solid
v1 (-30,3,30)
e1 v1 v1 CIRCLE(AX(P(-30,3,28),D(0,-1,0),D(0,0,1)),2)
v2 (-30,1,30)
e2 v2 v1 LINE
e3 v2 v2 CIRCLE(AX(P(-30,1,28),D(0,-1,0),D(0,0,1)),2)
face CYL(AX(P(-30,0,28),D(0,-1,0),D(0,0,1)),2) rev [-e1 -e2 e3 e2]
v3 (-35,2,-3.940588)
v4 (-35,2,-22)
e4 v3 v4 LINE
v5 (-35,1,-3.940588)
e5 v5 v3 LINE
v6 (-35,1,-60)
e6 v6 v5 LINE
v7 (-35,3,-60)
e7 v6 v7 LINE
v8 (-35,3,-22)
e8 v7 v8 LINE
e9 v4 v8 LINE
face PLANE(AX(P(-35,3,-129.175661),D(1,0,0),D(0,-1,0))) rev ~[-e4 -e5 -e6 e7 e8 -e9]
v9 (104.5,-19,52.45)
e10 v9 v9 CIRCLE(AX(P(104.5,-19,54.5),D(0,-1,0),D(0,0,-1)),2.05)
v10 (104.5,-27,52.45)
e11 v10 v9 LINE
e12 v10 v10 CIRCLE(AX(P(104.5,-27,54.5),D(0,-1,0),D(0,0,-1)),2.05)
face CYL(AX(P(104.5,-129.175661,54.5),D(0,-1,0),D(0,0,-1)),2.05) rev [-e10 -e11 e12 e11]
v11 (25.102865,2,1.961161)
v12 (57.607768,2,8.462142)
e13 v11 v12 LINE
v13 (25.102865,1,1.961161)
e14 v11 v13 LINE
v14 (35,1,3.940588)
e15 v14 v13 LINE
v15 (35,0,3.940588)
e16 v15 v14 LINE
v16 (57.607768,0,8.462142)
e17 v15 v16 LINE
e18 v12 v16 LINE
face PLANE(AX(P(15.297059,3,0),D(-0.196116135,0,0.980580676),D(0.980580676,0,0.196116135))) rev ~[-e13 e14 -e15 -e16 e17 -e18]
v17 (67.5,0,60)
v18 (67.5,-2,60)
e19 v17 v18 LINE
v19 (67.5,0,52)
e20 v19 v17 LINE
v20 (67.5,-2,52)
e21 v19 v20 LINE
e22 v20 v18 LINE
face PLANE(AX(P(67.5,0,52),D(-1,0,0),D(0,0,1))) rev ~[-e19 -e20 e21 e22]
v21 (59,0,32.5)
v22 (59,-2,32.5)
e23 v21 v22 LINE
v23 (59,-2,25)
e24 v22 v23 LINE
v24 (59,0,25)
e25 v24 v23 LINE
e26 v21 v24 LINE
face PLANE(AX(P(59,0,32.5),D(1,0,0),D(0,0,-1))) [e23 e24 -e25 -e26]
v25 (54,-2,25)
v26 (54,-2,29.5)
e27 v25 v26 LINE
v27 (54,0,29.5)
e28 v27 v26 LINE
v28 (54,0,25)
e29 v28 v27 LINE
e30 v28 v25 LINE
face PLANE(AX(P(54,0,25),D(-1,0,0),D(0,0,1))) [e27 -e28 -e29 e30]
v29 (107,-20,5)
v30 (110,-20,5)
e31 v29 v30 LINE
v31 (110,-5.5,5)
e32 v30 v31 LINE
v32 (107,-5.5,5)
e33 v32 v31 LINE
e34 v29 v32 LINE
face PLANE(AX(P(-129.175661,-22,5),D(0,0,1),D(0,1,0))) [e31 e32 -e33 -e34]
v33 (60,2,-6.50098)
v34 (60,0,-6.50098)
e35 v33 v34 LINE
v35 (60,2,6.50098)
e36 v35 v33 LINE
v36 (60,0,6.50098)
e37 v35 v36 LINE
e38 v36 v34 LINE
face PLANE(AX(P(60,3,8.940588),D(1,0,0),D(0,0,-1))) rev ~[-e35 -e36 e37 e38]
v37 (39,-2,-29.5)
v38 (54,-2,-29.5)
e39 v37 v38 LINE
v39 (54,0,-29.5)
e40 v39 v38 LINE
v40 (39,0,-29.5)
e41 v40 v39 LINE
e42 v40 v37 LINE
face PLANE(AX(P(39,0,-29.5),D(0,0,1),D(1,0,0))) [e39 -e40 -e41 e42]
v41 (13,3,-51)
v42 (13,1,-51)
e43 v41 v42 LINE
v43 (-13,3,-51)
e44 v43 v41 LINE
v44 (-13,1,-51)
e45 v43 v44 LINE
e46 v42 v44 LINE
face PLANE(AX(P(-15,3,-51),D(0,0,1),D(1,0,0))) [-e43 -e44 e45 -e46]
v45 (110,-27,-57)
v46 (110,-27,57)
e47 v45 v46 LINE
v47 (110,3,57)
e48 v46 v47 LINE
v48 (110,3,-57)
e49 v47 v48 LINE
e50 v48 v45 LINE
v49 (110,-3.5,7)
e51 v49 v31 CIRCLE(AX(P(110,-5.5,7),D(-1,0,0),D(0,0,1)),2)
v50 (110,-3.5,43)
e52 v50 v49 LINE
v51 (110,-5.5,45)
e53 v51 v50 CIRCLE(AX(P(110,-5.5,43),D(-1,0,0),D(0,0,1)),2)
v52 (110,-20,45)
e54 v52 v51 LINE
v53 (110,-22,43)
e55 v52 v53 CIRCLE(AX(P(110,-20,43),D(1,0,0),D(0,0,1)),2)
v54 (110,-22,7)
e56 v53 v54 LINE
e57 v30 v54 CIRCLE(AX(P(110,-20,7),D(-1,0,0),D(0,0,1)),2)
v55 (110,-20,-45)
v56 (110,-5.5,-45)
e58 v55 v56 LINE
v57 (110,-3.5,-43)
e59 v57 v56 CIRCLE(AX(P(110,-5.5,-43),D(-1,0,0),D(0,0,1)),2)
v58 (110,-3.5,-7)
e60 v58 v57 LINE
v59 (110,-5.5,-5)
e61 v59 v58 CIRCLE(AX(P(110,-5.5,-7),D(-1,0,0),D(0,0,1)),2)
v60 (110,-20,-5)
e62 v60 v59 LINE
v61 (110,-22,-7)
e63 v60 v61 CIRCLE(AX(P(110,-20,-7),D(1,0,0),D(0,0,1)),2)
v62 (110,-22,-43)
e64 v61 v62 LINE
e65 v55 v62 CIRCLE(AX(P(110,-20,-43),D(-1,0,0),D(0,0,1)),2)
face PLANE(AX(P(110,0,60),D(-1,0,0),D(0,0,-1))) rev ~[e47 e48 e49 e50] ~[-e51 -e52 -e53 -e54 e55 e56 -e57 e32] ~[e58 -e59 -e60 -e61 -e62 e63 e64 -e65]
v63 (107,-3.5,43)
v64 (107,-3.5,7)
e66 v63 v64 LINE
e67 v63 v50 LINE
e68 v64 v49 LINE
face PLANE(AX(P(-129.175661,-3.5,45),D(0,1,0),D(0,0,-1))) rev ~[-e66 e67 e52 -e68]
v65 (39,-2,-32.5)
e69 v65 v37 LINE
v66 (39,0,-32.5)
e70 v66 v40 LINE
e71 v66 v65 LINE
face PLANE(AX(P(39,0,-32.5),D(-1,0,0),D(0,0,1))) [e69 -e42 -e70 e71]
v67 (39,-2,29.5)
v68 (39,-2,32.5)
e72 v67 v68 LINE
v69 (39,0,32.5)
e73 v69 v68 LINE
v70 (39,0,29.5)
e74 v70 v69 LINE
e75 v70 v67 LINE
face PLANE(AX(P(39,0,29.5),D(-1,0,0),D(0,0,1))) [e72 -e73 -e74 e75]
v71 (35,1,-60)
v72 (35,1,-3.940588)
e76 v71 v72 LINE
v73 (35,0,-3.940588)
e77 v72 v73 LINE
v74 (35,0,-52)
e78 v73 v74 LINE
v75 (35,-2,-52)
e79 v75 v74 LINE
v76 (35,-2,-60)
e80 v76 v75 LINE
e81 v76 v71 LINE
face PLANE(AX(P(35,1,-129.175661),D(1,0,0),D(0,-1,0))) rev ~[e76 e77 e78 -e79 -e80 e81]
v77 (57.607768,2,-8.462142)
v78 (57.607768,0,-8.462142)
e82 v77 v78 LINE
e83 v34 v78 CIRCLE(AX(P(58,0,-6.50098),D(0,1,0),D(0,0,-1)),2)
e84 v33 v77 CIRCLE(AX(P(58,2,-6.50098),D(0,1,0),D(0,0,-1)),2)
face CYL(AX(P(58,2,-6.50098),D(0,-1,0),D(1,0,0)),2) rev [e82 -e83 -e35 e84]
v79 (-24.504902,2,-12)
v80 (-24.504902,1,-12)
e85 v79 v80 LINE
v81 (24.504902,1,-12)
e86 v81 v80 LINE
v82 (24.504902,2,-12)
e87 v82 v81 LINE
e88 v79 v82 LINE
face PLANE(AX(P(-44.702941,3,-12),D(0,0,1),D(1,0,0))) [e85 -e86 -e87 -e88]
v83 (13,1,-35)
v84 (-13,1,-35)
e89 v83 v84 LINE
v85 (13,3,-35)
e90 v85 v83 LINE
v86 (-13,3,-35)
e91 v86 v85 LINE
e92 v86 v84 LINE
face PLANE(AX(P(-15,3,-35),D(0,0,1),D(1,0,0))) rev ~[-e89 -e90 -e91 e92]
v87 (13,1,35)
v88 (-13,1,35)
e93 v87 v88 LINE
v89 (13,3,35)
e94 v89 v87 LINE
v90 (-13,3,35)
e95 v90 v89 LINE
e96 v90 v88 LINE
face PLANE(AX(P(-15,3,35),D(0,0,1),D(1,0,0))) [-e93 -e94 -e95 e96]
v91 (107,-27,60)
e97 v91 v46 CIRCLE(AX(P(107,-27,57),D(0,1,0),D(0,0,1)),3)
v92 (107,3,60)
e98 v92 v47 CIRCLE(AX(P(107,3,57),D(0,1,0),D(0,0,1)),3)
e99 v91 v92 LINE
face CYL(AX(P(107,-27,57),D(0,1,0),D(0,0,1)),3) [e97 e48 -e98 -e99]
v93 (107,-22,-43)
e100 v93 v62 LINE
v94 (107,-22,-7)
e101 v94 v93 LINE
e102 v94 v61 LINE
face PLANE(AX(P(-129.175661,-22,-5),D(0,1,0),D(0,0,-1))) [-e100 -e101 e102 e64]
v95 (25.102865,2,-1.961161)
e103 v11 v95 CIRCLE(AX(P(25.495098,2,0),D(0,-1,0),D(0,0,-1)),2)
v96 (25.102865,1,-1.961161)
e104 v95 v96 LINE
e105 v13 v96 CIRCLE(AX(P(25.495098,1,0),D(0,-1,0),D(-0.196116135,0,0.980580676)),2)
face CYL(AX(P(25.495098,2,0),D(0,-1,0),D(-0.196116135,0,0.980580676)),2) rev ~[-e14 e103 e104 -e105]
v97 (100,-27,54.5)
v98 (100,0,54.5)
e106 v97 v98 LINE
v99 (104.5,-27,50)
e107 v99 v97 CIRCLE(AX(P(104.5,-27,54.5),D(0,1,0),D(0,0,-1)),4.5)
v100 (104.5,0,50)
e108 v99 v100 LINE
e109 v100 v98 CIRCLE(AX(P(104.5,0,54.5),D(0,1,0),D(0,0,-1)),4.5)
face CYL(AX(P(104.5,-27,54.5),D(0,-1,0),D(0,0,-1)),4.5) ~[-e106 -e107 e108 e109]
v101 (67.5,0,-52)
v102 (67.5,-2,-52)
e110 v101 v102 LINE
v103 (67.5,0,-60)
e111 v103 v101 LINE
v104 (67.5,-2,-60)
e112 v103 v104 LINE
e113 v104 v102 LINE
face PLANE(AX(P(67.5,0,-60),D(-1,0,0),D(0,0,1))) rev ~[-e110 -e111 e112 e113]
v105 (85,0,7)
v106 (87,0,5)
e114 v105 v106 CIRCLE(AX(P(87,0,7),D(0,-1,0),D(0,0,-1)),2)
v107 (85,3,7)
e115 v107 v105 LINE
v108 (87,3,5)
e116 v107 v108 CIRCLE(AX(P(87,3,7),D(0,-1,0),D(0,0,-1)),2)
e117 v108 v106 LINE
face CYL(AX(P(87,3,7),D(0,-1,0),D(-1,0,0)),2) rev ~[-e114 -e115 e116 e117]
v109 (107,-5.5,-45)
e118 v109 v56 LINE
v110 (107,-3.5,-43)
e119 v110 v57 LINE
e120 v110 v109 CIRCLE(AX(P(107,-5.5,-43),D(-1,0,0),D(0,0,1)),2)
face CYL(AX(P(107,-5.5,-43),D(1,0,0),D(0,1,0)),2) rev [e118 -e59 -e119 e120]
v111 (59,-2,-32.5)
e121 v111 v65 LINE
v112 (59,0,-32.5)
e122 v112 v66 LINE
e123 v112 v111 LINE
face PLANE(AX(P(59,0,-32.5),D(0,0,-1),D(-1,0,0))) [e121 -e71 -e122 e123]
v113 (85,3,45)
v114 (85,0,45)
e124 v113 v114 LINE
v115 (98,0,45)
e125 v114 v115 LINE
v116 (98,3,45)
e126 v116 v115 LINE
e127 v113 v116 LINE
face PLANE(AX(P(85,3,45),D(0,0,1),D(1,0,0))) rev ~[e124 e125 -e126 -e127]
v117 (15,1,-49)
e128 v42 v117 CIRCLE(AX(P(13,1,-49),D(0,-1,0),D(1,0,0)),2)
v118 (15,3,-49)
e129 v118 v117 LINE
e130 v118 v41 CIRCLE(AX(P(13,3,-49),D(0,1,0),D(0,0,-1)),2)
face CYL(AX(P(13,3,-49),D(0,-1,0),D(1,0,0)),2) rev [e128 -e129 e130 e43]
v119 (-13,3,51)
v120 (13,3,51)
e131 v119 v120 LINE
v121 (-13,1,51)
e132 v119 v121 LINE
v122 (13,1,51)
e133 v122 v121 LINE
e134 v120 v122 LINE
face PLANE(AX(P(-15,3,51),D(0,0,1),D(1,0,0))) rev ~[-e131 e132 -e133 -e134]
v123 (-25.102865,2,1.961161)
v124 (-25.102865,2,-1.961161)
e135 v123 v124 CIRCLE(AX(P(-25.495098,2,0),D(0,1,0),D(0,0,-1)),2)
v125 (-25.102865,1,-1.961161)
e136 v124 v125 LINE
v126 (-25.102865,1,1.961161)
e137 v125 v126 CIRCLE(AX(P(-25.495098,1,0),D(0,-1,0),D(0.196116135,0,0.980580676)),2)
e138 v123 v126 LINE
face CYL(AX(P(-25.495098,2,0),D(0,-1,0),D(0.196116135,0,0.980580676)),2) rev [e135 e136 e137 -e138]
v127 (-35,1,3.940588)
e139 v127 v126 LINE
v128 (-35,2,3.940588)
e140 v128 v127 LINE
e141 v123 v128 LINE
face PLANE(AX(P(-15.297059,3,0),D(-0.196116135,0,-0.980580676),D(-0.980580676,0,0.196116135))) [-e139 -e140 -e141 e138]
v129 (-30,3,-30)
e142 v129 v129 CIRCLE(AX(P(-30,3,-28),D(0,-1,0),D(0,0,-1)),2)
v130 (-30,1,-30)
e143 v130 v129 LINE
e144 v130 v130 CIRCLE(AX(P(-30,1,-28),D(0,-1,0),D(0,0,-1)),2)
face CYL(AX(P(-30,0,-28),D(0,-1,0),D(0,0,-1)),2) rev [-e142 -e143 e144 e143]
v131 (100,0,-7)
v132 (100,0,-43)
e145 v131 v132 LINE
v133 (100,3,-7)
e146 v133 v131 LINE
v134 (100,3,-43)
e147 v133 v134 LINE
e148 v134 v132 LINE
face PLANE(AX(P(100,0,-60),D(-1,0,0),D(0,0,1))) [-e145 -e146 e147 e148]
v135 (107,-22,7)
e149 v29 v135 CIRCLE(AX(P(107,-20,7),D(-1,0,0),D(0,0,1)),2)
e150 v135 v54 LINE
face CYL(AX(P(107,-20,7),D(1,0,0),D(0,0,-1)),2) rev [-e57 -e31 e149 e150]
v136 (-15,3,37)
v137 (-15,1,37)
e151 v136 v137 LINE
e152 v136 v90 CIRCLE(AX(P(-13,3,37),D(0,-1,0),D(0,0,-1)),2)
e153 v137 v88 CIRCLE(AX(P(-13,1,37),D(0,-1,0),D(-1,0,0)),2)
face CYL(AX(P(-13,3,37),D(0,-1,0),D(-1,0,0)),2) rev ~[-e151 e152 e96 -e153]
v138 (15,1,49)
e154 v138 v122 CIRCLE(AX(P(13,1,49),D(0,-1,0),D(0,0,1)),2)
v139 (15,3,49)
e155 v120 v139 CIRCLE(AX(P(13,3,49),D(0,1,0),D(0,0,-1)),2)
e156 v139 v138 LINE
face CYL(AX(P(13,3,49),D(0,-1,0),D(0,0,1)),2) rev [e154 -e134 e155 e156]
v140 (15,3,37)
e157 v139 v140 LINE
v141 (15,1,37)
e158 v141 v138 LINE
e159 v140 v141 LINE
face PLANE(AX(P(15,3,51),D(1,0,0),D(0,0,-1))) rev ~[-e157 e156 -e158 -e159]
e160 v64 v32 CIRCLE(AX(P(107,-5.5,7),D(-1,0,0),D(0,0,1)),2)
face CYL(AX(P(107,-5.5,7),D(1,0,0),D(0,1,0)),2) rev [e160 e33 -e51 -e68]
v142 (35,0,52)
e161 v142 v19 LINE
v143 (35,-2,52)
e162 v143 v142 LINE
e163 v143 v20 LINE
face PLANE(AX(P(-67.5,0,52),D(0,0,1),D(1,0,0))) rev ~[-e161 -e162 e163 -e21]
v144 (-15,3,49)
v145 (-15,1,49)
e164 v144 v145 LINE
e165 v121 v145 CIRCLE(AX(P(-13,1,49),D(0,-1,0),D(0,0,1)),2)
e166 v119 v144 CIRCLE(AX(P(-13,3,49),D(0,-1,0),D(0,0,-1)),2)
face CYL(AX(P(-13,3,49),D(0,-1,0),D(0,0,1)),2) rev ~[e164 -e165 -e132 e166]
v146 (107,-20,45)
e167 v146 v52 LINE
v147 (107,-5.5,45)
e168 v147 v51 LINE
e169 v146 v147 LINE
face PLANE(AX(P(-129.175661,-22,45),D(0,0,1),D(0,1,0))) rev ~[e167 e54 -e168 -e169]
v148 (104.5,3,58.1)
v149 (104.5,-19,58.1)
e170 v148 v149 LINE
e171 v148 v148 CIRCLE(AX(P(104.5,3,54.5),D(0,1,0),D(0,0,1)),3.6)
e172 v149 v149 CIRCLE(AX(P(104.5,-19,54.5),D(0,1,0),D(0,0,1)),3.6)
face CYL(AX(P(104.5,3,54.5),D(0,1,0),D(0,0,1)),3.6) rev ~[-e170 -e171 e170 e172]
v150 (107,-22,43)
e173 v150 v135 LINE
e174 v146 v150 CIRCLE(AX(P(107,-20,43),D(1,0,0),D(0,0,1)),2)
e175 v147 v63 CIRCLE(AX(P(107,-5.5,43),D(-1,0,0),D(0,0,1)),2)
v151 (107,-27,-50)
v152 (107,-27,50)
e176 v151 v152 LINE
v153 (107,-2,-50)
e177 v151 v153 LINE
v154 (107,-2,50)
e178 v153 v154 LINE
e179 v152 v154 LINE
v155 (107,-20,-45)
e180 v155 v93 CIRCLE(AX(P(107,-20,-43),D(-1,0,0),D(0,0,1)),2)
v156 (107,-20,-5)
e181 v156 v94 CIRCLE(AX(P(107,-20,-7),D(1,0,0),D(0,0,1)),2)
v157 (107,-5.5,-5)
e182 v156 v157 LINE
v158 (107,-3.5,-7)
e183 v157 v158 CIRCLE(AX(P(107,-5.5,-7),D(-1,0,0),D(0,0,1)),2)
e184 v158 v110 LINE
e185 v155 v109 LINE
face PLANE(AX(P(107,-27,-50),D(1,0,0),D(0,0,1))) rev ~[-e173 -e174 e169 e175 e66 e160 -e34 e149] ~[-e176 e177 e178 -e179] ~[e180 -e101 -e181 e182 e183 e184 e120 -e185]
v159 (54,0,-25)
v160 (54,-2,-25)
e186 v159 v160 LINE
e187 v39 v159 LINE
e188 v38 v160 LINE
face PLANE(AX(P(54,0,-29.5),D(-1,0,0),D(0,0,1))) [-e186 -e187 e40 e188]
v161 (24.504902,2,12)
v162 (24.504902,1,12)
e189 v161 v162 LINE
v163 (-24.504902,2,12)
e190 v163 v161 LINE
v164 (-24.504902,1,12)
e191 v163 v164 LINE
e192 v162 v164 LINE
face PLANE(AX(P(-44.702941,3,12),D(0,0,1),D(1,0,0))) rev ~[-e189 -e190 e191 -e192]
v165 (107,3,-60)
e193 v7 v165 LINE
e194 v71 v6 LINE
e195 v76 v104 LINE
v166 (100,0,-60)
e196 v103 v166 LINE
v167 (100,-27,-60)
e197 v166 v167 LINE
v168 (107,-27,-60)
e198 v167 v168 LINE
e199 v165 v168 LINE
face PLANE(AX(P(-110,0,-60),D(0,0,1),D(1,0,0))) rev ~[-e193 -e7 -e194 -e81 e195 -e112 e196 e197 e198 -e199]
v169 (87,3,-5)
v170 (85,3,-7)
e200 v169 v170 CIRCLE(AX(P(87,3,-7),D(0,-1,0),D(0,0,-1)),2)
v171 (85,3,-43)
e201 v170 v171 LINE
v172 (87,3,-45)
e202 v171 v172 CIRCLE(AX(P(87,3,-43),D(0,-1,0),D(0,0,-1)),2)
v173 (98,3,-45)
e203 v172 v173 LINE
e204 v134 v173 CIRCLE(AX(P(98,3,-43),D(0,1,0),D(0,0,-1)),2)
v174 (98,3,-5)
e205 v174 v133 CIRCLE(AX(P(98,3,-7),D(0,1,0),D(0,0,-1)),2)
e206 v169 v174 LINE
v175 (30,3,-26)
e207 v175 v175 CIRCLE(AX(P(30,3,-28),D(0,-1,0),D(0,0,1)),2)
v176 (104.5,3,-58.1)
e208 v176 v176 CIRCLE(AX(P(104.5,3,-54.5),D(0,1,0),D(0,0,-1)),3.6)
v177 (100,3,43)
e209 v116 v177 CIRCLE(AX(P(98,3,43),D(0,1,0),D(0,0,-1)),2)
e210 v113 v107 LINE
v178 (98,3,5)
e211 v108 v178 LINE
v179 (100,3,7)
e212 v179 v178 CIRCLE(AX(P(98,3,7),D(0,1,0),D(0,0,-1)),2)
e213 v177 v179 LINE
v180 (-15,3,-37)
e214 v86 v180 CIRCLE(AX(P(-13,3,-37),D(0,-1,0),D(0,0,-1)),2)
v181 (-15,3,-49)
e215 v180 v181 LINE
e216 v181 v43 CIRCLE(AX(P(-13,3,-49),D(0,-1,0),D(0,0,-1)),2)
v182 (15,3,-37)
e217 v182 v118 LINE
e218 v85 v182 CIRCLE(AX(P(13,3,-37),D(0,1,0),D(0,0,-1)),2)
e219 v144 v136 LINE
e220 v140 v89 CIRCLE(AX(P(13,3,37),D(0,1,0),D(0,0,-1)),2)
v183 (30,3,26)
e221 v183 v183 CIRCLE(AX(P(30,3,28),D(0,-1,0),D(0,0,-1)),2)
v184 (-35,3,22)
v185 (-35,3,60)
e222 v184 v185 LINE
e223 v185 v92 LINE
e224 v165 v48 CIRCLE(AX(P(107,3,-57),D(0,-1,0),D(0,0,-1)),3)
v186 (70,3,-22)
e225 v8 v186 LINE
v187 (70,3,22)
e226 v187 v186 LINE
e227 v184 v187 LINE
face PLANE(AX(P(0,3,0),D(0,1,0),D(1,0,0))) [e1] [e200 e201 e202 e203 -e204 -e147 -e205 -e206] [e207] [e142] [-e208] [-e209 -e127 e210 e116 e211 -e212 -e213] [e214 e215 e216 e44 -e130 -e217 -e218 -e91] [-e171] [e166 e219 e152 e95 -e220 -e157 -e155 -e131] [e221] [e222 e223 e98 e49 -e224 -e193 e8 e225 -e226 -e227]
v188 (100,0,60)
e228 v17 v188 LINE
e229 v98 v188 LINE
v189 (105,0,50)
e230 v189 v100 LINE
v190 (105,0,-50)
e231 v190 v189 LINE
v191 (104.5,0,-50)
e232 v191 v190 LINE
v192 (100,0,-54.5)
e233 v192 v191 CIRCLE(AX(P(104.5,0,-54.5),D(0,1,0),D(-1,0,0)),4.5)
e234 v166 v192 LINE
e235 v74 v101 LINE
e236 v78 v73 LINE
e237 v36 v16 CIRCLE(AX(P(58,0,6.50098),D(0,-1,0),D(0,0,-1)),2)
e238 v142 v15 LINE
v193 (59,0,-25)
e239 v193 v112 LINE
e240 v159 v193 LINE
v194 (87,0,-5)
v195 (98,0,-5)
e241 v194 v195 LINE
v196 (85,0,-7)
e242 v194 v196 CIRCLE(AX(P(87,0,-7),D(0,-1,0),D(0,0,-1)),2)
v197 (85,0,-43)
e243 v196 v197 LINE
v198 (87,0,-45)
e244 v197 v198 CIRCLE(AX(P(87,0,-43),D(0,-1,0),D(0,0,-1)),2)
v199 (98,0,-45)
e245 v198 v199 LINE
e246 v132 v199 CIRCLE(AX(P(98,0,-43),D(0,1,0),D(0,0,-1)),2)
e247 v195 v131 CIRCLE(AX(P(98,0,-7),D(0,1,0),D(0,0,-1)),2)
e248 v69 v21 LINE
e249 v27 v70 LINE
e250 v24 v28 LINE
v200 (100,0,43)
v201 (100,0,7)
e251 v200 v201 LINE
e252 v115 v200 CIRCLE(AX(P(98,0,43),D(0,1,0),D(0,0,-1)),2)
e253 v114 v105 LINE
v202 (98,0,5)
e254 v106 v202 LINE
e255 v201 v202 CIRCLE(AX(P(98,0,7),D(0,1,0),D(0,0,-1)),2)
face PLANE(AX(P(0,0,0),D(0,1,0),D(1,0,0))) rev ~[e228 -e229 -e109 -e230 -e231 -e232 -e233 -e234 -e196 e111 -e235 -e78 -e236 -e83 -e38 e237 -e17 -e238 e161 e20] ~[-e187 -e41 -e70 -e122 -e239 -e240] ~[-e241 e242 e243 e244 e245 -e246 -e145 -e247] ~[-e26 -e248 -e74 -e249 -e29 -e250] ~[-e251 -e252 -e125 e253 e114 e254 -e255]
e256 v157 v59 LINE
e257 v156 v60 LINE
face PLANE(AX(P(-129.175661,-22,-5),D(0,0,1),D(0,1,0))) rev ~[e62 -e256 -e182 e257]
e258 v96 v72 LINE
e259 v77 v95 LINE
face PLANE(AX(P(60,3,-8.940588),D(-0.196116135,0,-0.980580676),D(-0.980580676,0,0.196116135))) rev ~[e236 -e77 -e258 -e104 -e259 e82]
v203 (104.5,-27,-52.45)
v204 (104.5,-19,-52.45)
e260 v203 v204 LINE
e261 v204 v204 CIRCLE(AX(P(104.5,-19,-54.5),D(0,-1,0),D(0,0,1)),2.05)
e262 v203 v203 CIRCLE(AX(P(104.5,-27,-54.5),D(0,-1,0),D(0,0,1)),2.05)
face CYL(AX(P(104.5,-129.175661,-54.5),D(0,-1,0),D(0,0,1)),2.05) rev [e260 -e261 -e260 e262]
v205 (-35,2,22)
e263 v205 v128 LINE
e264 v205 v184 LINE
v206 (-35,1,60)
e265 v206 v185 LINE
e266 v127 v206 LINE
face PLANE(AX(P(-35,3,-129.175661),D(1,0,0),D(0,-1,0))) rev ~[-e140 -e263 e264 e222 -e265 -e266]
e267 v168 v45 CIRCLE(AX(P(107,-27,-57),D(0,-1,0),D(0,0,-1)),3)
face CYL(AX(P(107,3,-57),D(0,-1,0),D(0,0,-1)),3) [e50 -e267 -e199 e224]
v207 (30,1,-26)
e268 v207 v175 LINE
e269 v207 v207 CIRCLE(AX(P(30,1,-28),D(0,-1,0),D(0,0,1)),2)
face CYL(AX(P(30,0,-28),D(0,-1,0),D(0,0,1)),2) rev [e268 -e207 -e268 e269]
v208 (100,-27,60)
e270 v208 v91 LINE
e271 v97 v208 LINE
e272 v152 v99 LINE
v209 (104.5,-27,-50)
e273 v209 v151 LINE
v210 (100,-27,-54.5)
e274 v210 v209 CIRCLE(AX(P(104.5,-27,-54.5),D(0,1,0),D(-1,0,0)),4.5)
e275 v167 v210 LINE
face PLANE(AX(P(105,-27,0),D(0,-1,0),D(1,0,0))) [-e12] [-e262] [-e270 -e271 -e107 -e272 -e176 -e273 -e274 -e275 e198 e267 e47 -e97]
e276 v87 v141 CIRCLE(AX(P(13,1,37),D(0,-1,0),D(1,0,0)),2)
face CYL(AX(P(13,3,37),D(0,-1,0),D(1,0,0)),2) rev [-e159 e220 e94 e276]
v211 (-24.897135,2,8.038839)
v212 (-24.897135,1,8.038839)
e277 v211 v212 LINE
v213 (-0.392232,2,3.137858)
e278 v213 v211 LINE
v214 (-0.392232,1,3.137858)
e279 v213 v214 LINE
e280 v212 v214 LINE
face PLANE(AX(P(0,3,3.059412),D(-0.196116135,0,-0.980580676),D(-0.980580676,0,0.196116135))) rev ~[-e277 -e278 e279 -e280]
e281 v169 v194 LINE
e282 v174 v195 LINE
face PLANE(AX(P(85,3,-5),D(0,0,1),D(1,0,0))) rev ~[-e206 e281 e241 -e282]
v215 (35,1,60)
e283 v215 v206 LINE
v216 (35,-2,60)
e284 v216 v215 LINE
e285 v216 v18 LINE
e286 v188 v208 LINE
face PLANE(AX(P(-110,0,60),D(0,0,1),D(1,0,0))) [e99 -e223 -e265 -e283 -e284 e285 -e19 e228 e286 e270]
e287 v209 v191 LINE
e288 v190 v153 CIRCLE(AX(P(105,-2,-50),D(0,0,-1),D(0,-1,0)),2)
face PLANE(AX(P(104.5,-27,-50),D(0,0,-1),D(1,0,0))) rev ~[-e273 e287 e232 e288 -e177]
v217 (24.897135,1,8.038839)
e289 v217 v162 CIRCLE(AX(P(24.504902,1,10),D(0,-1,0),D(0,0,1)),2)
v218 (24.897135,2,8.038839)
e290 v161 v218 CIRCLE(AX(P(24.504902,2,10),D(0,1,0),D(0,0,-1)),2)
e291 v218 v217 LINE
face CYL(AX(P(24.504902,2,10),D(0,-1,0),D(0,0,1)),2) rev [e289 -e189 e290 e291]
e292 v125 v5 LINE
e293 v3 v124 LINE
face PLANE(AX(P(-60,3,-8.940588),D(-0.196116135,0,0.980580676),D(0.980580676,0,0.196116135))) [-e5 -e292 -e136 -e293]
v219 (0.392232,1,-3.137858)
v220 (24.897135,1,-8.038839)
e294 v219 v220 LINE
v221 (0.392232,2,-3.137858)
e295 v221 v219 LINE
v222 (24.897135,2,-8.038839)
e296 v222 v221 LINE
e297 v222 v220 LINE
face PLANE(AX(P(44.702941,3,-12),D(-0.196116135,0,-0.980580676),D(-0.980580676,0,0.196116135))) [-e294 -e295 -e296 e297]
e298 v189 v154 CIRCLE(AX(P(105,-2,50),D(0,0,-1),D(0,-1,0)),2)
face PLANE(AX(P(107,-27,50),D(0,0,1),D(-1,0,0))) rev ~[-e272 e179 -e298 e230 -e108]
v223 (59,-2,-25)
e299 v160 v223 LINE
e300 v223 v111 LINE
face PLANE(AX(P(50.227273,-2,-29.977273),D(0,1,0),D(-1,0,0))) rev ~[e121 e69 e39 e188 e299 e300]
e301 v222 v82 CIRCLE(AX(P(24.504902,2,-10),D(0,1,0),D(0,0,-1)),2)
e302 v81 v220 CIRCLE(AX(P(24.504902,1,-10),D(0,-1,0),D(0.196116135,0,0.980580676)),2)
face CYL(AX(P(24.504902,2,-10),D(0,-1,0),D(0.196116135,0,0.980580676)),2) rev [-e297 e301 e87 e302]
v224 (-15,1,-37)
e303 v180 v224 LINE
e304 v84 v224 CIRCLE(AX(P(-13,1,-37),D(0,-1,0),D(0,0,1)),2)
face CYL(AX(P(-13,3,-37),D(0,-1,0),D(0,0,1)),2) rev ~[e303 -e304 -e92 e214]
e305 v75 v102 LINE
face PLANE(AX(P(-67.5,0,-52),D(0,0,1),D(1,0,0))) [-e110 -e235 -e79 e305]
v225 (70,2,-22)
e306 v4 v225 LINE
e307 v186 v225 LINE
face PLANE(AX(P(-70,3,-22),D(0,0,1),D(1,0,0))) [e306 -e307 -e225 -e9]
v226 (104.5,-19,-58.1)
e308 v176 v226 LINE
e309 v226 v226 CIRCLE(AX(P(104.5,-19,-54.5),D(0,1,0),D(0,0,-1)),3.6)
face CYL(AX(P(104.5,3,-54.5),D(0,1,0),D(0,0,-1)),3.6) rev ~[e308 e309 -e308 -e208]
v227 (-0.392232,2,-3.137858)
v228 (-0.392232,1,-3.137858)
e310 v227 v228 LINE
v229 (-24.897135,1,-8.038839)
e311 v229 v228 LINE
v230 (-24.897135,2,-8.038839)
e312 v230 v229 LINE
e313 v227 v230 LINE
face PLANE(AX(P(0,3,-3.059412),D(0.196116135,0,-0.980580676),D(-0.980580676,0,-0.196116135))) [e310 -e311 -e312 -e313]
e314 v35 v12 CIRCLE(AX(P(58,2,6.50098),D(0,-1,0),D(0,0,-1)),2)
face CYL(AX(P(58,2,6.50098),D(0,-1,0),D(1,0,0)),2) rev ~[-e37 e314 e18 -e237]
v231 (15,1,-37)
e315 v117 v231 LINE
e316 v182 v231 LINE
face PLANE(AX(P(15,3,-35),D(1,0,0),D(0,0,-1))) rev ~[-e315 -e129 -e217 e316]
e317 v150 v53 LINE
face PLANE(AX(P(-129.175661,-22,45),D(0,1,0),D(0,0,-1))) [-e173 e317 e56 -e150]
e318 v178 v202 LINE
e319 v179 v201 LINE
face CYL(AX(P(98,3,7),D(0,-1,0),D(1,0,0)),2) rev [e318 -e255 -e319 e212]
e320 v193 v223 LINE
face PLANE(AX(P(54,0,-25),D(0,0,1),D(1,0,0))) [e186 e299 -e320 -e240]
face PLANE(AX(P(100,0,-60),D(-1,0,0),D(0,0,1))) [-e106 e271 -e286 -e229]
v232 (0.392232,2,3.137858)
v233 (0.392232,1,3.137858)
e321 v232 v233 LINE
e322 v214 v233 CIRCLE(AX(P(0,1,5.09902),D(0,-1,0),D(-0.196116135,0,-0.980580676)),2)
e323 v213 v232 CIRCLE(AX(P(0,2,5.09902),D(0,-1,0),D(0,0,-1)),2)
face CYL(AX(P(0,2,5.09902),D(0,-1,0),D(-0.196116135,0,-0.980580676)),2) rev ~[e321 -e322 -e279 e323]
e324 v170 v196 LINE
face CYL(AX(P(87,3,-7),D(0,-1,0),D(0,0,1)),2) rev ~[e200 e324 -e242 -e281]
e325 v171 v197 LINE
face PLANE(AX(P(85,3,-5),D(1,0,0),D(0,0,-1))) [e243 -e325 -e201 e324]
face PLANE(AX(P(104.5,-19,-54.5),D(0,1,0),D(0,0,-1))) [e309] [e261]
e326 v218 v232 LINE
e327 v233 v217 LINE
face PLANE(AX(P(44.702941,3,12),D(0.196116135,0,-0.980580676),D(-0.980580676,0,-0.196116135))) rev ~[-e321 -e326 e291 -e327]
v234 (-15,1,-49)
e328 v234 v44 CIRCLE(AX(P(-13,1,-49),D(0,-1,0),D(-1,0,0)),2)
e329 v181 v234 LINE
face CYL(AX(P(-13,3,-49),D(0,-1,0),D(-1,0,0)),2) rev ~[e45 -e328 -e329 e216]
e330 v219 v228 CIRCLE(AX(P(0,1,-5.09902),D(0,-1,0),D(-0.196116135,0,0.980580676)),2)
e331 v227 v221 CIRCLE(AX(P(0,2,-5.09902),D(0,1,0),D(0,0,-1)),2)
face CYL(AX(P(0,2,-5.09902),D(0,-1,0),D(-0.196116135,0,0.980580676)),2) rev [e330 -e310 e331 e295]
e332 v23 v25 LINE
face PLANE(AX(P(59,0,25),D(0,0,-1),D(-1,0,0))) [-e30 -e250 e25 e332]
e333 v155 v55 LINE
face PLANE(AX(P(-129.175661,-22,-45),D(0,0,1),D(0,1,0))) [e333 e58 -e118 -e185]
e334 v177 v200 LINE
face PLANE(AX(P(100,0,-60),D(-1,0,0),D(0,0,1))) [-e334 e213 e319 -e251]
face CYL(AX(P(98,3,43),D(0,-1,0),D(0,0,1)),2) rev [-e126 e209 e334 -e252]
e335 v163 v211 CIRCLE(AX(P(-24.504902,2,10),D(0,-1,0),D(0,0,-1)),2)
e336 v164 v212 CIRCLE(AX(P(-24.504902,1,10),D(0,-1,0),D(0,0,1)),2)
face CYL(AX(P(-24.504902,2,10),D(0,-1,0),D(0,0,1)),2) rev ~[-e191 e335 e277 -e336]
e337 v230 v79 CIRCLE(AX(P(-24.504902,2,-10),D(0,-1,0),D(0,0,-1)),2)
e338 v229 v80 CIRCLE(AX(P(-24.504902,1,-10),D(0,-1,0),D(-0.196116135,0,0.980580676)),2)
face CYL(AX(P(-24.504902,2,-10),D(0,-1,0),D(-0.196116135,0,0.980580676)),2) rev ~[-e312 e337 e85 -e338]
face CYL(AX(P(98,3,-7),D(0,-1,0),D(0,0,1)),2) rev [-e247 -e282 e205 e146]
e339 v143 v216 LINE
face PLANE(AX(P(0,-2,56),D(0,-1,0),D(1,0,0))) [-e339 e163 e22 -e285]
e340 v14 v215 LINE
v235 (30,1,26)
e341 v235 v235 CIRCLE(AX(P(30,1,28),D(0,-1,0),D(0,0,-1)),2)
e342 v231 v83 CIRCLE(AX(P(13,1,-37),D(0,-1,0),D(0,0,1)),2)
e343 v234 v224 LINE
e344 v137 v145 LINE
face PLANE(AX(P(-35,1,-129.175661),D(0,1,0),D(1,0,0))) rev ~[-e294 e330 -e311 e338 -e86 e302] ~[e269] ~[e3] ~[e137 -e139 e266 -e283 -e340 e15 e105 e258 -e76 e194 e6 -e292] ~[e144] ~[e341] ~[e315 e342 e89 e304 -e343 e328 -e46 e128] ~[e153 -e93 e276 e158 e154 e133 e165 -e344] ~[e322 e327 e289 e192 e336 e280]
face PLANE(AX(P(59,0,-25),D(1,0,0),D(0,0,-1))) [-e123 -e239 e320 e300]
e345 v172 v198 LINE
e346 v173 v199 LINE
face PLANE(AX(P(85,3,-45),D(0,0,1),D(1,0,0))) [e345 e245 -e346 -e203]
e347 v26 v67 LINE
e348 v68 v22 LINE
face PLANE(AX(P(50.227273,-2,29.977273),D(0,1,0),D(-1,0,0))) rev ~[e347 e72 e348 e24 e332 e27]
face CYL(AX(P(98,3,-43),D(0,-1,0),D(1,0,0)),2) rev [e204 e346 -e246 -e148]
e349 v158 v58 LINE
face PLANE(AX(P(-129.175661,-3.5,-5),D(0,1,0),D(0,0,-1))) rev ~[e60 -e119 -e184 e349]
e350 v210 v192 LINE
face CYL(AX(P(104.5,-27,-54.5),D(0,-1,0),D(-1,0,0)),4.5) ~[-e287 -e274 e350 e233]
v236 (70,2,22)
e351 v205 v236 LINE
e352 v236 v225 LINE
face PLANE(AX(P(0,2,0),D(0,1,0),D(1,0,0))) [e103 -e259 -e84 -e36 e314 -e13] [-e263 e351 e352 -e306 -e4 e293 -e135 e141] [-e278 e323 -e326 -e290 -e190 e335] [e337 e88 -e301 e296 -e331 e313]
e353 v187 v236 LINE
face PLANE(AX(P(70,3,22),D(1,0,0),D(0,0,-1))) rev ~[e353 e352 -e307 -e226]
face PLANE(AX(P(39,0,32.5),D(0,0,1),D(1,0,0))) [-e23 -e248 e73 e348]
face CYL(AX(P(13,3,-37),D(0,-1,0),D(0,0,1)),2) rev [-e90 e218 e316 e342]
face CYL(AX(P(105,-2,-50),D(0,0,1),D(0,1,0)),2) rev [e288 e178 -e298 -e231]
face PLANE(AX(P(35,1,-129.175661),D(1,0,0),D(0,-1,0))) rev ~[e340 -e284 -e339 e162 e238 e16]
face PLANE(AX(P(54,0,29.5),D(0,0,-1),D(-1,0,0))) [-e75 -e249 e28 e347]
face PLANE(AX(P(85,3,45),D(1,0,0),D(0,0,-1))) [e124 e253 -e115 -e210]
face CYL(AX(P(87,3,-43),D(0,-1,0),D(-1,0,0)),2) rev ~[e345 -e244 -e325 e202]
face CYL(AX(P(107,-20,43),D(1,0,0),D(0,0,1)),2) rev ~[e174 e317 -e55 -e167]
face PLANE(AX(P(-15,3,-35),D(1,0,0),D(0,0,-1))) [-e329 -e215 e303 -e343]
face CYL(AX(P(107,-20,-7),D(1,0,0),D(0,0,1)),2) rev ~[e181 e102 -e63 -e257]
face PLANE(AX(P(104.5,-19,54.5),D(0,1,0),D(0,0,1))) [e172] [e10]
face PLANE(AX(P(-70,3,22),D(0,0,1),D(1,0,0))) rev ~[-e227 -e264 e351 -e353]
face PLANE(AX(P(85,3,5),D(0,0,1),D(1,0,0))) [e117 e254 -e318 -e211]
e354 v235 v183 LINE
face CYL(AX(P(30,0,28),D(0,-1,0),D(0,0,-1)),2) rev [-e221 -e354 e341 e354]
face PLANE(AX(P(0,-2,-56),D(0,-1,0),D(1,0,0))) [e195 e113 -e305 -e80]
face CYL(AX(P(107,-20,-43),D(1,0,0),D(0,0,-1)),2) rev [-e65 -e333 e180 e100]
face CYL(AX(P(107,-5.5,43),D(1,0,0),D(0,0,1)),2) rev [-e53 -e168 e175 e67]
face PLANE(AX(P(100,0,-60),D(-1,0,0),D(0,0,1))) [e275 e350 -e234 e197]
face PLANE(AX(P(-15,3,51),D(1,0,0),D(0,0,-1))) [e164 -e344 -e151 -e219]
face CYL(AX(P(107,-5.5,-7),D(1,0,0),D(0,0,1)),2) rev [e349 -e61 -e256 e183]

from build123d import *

# Parameters (mm, degrees)
SKETCH_8_W                = 220
SKETCH_8_H                = 120
EXTRUDE_6_DEPTH           = 3
SKETCH_10_W               = 10
SKETCH_10_H               = 120
EXTRUDE_7_DEPTH           = 27
CUT_EXTRUDE_1_DEPTH       = 129.175660716
CUT_EXTRUDE_1_DEPTH_BACK  = 129.175660716
SKETCH_9_R                = 2.05
SKETCH_11_R               = 3.6
CUT_EXTRUDE_2_DEPTH       = 22
CUT_EXTRUDE_4_DEPTH       = 129.175660716
CUT_EXTRUDE_4_DEPTH_BACK  = 129.175660716
SKETCH_13_W               = 40
SKETCH_13_H               = 18.5
SKETCH_14_W               = 140
SKETCH_14_H               = 44
CUT_EXTRUDE_7_DEPTH       = 1
SKETCH_15_W               = 15
SKETCH_15_H               = 80
SKETCH_15_H_2             = 40
SKETCH_15_W_2             = 30
SKETCH_15_H_3             = 16
CUT_EXTRUDE_8_DEPTH       = 129.840987267
SKETCH_9_5_R              = 2
CUT_EXTRUDE_9_DEPTH       = 129.175660716
CUT_EXTRUDE_13_DEPTH      = 27
SKETCH_20_W               = 135
SKETCH_20_H               = 8
EXTRUDE_8_DEPTH           = 2
FILLET_1_R                = 3
FILLET_2_R                = 2
CUT_EXTRUDE_14_DEPTH      = 129.175660716
CUT_EXTRUDE_14_DEPTH_BACK = 129.175660716


with BuildPart() as part:
    # 草圖8 → 填料-伸長6 (new body)
    with BuildSketch(Plane(origin=(0, 0, 0), x_dir=(1, 0, 0), z_dir=(0, 1, 0))):
        Rectangle(SKETCH_8_W, SKETCH_8_H)
    extrude(amount=EXTRUDE_6_DEPTH)

    # 草圖10 → 填料-伸長7 (add)
    with BuildSketch(Plane.XZ):
        with Locations((-105, 0)):
            Rectangle(SKETCH_10_W, SKETCH_10_H)
        with Locations((105, 0)):
            Rectangle(SKETCH_10_W, SKETCH_10_H)
    extrude(amount=EXTRUDE_7_DEPTH)

    # 草圖9 → 除料-伸長1 (cut, two sides: drawn at the far end of the back side and taken through both)
    with BuildSketch(Plane(origin=(0, 0, 0), x_dir=(1, 0, 0), z_dir=(0, 1, 0)).offset(-CUT_EXTRUDE_1_DEPTH_BACK)):
        with Locations((104.5, 54.5)):
            Circle(SKETCH_9_R)
        with Locations((-104.5, 54.5)):
            Circle(SKETCH_9_R)
        with Locations((-104.5, -54.5)):
            Circle(SKETCH_9_R)
        with Locations((104.5, -54.5)):
            Circle(SKETCH_9_R)
    extrude(amount=CUT_EXTRUDE_1_DEPTH + CUT_EXTRUDE_1_DEPTH_BACK, mode=Mode.SUBTRACT)

    # 草圖11 → 除料-伸長2 (cut)
    with BuildSketch(Plane(origin=(0, 3, 0), x_dir=(1, 0, 0), z_dir=(0, 1, 0))):
        with Locations((-104.497380754, 54.5)):
            Circle(SKETCH_11_R)
        with Locations((-104.497380754, -54.5)):
            Circle(SKETCH_11_R)
        with Locations((104.5, -54.5)):
            Circle(SKETCH_11_R)
        with Locations((104.5, 54.5)):
            Circle(SKETCH_11_R)
    extrude(amount=-CUT_EXTRUDE_2_DEPTH, mode=Mode.SUBTRACT)

    # 草圖13 → 除料-伸長4 (cut, two sides: drawn at the far end of the back side and taken through both)
    with BuildSketch(Plane(origin=(0, 0, 0), x_dir=(0, 0, -1), z_dir=(1, 0, 0)).offset(-CUT_EXTRUDE_4_DEPTH_BACK)):
        with Locations((-25, -12.75)):
            Rectangle(SKETCH_13_W, SKETCH_13_H)
        with Locations((25, -12.75)):
            Rectangle(SKETCH_13_W, SKETCH_13_H)
    extrude(amount=CUT_EXTRUDE_4_DEPTH + CUT_EXTRUDE_4_DEPTH_BACK, mode=Mode.SUBTRACT)

    # 草圖14 → 除料-伸長7 (cut)
    with BuildSketch(Plane(origin=(0, 3, 0), x_dir=(1, 0, 0), z_dir=(0, 1, 0))):
        Rectangle(SKETCH_14_W, SKETCH_14_H)
    extrude(amount=-CUT_EXTRUDE_7_DEPTH, mode=Mode.SUBTRACT)

    # 草圖15 → 除料-伸長8 (cut, through all)
    with BuildSketch(Plane(origin=(0, 3, 0), x_dir=(1, 0, 0), z_dir=(0, 1, 0))):
        with Locations((-92.5, 0)):
            Rectangle(SKETCH_15_W, SKETCH_15_H)
        with Locations((92.5, 25)):
            Rectangle(SKETCH_15_W, SKETCH_15_H_2)
        Polygon((-44.702941459, -12), (44.702941459, -12), (0, -3.059411708), align=None)
        Polygon((-60, -8.940588292), (-60, 8.940588292), (-15.297058541, 0), align=None)
        Polygon((-44.702941459, 12), (44.702941459, 12), (0, 3.059411708), align=None)
        Polygon((60, -8.940588292), (60, 8.940588292), (15.297058541, 0), align=None)
        with Locations((0, -43)):
            Rectangle(SKETCH_15_W_2, SKETCH_15_H_3)
        with Locations((0, 43)):
            Rectangle(SKETCH_15_W_2, SKETCH_15_H_3)
        with Locations((92.5, -25)):
            Rectangle(SKETCH_15_W, SKETCH_15_H_2)
    extrude(amount=-CUT_EXTRUDE_8_DEPTH, mode=Mode.SUBTRACT)

    # 草圖9<5> → 除料-伸長9 (cut, through all)
    with BuildSketch(Plane(origin=(0, 0, 0), x_dir=(1, 0, 0), z_dir=(0, 1, 0))):
        with Locations((30, 28)):
            Circle(SKETCH_9_5_R)
        with Locations((-30, 28)):
            Circle(SKETCH_9_5_R)
        with Locations((30, -28)):
            Circle(SKETCH_9_5_R)
        with Locations((-30, -28)):
            Circle(SKETCH_9_5_R)
    extrude(amount=CUT_EXTRUDE_9_DEPTH, mode=Mode.SUBTRACT)

    # 草圖19 → 除料-伸長13 (cut)
    with BuildSketch(Plane.XZ.offset(27)):
        with BuildLine():
            Line((-100, 54.5), (-100, -54.5))
            ThreePointArc((-100, -54.5), (-101.318019485, -51.318019485), (-104.5, -50))
            Line((-104.5, -50), (-107, -50))
            Line((-107, -50), (-107, 50))
            Line((-107, 50), (-104.5, 50))
            ThreePointArc((-104.5, 50), (-101.318019485, 51.318019485), (-100, 54.5))
        make_face()
        with BuildLine():
            Line((100, 54.5), (100, -54.5))
            ThreePointArc((100, -54.5), (101.318019485, -51.318019485), (104.5, -50))
            Line((104.5, -50), (107, -50))
            Line((107, -50), (107, 50))
            Line((107, 50), (104.5, 50))
            ThreePointArc((104.5, 50), (101.318019485, 51.318019485), (100, 54.5))
        make_face()
    extrude(amount=-CUT_EXTRUDE_13_DEPTH, mode=Mode.SUBTRACT)

    # 草圖20 → 填料-伸長8 (add)
    with BuildSketch(Plane.XZ):
        with Locations((0, 56)):
            Rectangle(SKETCH_20_W, SKETCH_20_H)
        with Locations((0, -56)):
            Rectangle(SKETCH_20_W, SKETCH_20_H)
        Polygon((-59, 32.5), (-39, 32.5), (-39, 29.5), (-54, 29.5), (-54, 25), (-59, 25), align=None)
        Polygon((54, 29.5), (39, 29.5), (39, 32.5), (59, 32.5), (59, 25), (54, 25), align=None)
        Polygon((59, -32.5), (39, -32.5), (39, -29.5), (54, -29.5), (54, -25), (59, -25), align=None)
        Polygon((-54, -29.5), (-39, -29.5), (-39, -32.5), (-59, -32.5), (-59, -25), (-54, -25), align=None)
    extrude(amount=EXTRUDE_8_DEPTH)

    # 圓角1
    fillet_1_edges = [part.edges().sort_by_distance(p)[0] for p in [
        (-110, -12, 60),
        (-110, -12, -60),
        (110, -12, -60),
        (110, -12, 60),
    ]]
    fillet(fillet_1_edges, radius=FILLET_1_R)

    # 圓角2
    fillet_2_edges = [part.edges().sort_by_distance(p)[0] for p in [
        (-107, 0, 0),
        (107, 0, 0),
        (108.5, -3.5, -5),
        (108.5, -3.5, 45),
        (108.5, -22, 45),
        (108.5, -22, -5),
        (108.5, -3.5, -45),
        (108.5, -3.5, 5),
        (108.5, -22, 5),
        (108.5, -22, -45),
        (-108.5, -22, -45),
        (-108.5, -22, 5),
        (-108.5, -3.5, -45),
        (-108.5, -3.5, 5),
        (-108.5, -22, 45),
        (-108.5, -3.5, 45),
        (-108.5, -3.5, -5),
        (-108.5, -22, -5),
        (60, 1, -8.940588292),
        (44.702941459, 1, -12),
        (-44.702941459, 1, -12),
        (0, 1, 3.059411708),
        (-44.702941459, 1, 12),
        (44.702941459, 1, 12),
        (-15.297058541, 1, 0),
        (0, 1, -3.059411708),
        (60, 1, 8.940588292),
        (100, 1.5, -5),
        (15, 1.5, -35),
        (100, 1.5, 45),
        (15, 1.5, 51),
        (-85, 1.5, 40),
        (-15, 1.5, 51),
        (85, 1.5, -5),
        (15.297058541, 1, 0),
        (-100, 1.5, 40),
        (-15, 1.5, -35),
        (-60, 1, 8.940588292),
        (-60, 1, -8.940588292),
        (15, 1.5, 35),
        (-15, 1.5, 35),
        (85, 1.5, 5),
        (85, 1.5, -45),
        (100, 1.5, 5),
        (100, 1.5, -45),
        (15, 1.5, -51),
        (-15, 1.5, -51),
        (-85, 1.5, -40),
        (-100, 1.5, -40),
    ]]
    fillet(fillet_2_edges, radius=FILLET_2_R)

    # 草圖21 → 除料-伸長14 (cut, two sides: drawn at the far end of the back side and taken through both)
    with BuildSketch(Plane.XY.offset(-CUT_EXTRUDE_14_DEPTH_BACK)):
        Polygon((-35, 3), (-35, 1), (35, 1), (35, -27), (-110, -27), (-110, 3), align=None)
    extrude(amount=CUT_EXTRUDE_14_DEPTH + CUT_EXTRUDE_14_DEPTH_BACK, mode=Mode.SUBTRACT)


solid = part.part
